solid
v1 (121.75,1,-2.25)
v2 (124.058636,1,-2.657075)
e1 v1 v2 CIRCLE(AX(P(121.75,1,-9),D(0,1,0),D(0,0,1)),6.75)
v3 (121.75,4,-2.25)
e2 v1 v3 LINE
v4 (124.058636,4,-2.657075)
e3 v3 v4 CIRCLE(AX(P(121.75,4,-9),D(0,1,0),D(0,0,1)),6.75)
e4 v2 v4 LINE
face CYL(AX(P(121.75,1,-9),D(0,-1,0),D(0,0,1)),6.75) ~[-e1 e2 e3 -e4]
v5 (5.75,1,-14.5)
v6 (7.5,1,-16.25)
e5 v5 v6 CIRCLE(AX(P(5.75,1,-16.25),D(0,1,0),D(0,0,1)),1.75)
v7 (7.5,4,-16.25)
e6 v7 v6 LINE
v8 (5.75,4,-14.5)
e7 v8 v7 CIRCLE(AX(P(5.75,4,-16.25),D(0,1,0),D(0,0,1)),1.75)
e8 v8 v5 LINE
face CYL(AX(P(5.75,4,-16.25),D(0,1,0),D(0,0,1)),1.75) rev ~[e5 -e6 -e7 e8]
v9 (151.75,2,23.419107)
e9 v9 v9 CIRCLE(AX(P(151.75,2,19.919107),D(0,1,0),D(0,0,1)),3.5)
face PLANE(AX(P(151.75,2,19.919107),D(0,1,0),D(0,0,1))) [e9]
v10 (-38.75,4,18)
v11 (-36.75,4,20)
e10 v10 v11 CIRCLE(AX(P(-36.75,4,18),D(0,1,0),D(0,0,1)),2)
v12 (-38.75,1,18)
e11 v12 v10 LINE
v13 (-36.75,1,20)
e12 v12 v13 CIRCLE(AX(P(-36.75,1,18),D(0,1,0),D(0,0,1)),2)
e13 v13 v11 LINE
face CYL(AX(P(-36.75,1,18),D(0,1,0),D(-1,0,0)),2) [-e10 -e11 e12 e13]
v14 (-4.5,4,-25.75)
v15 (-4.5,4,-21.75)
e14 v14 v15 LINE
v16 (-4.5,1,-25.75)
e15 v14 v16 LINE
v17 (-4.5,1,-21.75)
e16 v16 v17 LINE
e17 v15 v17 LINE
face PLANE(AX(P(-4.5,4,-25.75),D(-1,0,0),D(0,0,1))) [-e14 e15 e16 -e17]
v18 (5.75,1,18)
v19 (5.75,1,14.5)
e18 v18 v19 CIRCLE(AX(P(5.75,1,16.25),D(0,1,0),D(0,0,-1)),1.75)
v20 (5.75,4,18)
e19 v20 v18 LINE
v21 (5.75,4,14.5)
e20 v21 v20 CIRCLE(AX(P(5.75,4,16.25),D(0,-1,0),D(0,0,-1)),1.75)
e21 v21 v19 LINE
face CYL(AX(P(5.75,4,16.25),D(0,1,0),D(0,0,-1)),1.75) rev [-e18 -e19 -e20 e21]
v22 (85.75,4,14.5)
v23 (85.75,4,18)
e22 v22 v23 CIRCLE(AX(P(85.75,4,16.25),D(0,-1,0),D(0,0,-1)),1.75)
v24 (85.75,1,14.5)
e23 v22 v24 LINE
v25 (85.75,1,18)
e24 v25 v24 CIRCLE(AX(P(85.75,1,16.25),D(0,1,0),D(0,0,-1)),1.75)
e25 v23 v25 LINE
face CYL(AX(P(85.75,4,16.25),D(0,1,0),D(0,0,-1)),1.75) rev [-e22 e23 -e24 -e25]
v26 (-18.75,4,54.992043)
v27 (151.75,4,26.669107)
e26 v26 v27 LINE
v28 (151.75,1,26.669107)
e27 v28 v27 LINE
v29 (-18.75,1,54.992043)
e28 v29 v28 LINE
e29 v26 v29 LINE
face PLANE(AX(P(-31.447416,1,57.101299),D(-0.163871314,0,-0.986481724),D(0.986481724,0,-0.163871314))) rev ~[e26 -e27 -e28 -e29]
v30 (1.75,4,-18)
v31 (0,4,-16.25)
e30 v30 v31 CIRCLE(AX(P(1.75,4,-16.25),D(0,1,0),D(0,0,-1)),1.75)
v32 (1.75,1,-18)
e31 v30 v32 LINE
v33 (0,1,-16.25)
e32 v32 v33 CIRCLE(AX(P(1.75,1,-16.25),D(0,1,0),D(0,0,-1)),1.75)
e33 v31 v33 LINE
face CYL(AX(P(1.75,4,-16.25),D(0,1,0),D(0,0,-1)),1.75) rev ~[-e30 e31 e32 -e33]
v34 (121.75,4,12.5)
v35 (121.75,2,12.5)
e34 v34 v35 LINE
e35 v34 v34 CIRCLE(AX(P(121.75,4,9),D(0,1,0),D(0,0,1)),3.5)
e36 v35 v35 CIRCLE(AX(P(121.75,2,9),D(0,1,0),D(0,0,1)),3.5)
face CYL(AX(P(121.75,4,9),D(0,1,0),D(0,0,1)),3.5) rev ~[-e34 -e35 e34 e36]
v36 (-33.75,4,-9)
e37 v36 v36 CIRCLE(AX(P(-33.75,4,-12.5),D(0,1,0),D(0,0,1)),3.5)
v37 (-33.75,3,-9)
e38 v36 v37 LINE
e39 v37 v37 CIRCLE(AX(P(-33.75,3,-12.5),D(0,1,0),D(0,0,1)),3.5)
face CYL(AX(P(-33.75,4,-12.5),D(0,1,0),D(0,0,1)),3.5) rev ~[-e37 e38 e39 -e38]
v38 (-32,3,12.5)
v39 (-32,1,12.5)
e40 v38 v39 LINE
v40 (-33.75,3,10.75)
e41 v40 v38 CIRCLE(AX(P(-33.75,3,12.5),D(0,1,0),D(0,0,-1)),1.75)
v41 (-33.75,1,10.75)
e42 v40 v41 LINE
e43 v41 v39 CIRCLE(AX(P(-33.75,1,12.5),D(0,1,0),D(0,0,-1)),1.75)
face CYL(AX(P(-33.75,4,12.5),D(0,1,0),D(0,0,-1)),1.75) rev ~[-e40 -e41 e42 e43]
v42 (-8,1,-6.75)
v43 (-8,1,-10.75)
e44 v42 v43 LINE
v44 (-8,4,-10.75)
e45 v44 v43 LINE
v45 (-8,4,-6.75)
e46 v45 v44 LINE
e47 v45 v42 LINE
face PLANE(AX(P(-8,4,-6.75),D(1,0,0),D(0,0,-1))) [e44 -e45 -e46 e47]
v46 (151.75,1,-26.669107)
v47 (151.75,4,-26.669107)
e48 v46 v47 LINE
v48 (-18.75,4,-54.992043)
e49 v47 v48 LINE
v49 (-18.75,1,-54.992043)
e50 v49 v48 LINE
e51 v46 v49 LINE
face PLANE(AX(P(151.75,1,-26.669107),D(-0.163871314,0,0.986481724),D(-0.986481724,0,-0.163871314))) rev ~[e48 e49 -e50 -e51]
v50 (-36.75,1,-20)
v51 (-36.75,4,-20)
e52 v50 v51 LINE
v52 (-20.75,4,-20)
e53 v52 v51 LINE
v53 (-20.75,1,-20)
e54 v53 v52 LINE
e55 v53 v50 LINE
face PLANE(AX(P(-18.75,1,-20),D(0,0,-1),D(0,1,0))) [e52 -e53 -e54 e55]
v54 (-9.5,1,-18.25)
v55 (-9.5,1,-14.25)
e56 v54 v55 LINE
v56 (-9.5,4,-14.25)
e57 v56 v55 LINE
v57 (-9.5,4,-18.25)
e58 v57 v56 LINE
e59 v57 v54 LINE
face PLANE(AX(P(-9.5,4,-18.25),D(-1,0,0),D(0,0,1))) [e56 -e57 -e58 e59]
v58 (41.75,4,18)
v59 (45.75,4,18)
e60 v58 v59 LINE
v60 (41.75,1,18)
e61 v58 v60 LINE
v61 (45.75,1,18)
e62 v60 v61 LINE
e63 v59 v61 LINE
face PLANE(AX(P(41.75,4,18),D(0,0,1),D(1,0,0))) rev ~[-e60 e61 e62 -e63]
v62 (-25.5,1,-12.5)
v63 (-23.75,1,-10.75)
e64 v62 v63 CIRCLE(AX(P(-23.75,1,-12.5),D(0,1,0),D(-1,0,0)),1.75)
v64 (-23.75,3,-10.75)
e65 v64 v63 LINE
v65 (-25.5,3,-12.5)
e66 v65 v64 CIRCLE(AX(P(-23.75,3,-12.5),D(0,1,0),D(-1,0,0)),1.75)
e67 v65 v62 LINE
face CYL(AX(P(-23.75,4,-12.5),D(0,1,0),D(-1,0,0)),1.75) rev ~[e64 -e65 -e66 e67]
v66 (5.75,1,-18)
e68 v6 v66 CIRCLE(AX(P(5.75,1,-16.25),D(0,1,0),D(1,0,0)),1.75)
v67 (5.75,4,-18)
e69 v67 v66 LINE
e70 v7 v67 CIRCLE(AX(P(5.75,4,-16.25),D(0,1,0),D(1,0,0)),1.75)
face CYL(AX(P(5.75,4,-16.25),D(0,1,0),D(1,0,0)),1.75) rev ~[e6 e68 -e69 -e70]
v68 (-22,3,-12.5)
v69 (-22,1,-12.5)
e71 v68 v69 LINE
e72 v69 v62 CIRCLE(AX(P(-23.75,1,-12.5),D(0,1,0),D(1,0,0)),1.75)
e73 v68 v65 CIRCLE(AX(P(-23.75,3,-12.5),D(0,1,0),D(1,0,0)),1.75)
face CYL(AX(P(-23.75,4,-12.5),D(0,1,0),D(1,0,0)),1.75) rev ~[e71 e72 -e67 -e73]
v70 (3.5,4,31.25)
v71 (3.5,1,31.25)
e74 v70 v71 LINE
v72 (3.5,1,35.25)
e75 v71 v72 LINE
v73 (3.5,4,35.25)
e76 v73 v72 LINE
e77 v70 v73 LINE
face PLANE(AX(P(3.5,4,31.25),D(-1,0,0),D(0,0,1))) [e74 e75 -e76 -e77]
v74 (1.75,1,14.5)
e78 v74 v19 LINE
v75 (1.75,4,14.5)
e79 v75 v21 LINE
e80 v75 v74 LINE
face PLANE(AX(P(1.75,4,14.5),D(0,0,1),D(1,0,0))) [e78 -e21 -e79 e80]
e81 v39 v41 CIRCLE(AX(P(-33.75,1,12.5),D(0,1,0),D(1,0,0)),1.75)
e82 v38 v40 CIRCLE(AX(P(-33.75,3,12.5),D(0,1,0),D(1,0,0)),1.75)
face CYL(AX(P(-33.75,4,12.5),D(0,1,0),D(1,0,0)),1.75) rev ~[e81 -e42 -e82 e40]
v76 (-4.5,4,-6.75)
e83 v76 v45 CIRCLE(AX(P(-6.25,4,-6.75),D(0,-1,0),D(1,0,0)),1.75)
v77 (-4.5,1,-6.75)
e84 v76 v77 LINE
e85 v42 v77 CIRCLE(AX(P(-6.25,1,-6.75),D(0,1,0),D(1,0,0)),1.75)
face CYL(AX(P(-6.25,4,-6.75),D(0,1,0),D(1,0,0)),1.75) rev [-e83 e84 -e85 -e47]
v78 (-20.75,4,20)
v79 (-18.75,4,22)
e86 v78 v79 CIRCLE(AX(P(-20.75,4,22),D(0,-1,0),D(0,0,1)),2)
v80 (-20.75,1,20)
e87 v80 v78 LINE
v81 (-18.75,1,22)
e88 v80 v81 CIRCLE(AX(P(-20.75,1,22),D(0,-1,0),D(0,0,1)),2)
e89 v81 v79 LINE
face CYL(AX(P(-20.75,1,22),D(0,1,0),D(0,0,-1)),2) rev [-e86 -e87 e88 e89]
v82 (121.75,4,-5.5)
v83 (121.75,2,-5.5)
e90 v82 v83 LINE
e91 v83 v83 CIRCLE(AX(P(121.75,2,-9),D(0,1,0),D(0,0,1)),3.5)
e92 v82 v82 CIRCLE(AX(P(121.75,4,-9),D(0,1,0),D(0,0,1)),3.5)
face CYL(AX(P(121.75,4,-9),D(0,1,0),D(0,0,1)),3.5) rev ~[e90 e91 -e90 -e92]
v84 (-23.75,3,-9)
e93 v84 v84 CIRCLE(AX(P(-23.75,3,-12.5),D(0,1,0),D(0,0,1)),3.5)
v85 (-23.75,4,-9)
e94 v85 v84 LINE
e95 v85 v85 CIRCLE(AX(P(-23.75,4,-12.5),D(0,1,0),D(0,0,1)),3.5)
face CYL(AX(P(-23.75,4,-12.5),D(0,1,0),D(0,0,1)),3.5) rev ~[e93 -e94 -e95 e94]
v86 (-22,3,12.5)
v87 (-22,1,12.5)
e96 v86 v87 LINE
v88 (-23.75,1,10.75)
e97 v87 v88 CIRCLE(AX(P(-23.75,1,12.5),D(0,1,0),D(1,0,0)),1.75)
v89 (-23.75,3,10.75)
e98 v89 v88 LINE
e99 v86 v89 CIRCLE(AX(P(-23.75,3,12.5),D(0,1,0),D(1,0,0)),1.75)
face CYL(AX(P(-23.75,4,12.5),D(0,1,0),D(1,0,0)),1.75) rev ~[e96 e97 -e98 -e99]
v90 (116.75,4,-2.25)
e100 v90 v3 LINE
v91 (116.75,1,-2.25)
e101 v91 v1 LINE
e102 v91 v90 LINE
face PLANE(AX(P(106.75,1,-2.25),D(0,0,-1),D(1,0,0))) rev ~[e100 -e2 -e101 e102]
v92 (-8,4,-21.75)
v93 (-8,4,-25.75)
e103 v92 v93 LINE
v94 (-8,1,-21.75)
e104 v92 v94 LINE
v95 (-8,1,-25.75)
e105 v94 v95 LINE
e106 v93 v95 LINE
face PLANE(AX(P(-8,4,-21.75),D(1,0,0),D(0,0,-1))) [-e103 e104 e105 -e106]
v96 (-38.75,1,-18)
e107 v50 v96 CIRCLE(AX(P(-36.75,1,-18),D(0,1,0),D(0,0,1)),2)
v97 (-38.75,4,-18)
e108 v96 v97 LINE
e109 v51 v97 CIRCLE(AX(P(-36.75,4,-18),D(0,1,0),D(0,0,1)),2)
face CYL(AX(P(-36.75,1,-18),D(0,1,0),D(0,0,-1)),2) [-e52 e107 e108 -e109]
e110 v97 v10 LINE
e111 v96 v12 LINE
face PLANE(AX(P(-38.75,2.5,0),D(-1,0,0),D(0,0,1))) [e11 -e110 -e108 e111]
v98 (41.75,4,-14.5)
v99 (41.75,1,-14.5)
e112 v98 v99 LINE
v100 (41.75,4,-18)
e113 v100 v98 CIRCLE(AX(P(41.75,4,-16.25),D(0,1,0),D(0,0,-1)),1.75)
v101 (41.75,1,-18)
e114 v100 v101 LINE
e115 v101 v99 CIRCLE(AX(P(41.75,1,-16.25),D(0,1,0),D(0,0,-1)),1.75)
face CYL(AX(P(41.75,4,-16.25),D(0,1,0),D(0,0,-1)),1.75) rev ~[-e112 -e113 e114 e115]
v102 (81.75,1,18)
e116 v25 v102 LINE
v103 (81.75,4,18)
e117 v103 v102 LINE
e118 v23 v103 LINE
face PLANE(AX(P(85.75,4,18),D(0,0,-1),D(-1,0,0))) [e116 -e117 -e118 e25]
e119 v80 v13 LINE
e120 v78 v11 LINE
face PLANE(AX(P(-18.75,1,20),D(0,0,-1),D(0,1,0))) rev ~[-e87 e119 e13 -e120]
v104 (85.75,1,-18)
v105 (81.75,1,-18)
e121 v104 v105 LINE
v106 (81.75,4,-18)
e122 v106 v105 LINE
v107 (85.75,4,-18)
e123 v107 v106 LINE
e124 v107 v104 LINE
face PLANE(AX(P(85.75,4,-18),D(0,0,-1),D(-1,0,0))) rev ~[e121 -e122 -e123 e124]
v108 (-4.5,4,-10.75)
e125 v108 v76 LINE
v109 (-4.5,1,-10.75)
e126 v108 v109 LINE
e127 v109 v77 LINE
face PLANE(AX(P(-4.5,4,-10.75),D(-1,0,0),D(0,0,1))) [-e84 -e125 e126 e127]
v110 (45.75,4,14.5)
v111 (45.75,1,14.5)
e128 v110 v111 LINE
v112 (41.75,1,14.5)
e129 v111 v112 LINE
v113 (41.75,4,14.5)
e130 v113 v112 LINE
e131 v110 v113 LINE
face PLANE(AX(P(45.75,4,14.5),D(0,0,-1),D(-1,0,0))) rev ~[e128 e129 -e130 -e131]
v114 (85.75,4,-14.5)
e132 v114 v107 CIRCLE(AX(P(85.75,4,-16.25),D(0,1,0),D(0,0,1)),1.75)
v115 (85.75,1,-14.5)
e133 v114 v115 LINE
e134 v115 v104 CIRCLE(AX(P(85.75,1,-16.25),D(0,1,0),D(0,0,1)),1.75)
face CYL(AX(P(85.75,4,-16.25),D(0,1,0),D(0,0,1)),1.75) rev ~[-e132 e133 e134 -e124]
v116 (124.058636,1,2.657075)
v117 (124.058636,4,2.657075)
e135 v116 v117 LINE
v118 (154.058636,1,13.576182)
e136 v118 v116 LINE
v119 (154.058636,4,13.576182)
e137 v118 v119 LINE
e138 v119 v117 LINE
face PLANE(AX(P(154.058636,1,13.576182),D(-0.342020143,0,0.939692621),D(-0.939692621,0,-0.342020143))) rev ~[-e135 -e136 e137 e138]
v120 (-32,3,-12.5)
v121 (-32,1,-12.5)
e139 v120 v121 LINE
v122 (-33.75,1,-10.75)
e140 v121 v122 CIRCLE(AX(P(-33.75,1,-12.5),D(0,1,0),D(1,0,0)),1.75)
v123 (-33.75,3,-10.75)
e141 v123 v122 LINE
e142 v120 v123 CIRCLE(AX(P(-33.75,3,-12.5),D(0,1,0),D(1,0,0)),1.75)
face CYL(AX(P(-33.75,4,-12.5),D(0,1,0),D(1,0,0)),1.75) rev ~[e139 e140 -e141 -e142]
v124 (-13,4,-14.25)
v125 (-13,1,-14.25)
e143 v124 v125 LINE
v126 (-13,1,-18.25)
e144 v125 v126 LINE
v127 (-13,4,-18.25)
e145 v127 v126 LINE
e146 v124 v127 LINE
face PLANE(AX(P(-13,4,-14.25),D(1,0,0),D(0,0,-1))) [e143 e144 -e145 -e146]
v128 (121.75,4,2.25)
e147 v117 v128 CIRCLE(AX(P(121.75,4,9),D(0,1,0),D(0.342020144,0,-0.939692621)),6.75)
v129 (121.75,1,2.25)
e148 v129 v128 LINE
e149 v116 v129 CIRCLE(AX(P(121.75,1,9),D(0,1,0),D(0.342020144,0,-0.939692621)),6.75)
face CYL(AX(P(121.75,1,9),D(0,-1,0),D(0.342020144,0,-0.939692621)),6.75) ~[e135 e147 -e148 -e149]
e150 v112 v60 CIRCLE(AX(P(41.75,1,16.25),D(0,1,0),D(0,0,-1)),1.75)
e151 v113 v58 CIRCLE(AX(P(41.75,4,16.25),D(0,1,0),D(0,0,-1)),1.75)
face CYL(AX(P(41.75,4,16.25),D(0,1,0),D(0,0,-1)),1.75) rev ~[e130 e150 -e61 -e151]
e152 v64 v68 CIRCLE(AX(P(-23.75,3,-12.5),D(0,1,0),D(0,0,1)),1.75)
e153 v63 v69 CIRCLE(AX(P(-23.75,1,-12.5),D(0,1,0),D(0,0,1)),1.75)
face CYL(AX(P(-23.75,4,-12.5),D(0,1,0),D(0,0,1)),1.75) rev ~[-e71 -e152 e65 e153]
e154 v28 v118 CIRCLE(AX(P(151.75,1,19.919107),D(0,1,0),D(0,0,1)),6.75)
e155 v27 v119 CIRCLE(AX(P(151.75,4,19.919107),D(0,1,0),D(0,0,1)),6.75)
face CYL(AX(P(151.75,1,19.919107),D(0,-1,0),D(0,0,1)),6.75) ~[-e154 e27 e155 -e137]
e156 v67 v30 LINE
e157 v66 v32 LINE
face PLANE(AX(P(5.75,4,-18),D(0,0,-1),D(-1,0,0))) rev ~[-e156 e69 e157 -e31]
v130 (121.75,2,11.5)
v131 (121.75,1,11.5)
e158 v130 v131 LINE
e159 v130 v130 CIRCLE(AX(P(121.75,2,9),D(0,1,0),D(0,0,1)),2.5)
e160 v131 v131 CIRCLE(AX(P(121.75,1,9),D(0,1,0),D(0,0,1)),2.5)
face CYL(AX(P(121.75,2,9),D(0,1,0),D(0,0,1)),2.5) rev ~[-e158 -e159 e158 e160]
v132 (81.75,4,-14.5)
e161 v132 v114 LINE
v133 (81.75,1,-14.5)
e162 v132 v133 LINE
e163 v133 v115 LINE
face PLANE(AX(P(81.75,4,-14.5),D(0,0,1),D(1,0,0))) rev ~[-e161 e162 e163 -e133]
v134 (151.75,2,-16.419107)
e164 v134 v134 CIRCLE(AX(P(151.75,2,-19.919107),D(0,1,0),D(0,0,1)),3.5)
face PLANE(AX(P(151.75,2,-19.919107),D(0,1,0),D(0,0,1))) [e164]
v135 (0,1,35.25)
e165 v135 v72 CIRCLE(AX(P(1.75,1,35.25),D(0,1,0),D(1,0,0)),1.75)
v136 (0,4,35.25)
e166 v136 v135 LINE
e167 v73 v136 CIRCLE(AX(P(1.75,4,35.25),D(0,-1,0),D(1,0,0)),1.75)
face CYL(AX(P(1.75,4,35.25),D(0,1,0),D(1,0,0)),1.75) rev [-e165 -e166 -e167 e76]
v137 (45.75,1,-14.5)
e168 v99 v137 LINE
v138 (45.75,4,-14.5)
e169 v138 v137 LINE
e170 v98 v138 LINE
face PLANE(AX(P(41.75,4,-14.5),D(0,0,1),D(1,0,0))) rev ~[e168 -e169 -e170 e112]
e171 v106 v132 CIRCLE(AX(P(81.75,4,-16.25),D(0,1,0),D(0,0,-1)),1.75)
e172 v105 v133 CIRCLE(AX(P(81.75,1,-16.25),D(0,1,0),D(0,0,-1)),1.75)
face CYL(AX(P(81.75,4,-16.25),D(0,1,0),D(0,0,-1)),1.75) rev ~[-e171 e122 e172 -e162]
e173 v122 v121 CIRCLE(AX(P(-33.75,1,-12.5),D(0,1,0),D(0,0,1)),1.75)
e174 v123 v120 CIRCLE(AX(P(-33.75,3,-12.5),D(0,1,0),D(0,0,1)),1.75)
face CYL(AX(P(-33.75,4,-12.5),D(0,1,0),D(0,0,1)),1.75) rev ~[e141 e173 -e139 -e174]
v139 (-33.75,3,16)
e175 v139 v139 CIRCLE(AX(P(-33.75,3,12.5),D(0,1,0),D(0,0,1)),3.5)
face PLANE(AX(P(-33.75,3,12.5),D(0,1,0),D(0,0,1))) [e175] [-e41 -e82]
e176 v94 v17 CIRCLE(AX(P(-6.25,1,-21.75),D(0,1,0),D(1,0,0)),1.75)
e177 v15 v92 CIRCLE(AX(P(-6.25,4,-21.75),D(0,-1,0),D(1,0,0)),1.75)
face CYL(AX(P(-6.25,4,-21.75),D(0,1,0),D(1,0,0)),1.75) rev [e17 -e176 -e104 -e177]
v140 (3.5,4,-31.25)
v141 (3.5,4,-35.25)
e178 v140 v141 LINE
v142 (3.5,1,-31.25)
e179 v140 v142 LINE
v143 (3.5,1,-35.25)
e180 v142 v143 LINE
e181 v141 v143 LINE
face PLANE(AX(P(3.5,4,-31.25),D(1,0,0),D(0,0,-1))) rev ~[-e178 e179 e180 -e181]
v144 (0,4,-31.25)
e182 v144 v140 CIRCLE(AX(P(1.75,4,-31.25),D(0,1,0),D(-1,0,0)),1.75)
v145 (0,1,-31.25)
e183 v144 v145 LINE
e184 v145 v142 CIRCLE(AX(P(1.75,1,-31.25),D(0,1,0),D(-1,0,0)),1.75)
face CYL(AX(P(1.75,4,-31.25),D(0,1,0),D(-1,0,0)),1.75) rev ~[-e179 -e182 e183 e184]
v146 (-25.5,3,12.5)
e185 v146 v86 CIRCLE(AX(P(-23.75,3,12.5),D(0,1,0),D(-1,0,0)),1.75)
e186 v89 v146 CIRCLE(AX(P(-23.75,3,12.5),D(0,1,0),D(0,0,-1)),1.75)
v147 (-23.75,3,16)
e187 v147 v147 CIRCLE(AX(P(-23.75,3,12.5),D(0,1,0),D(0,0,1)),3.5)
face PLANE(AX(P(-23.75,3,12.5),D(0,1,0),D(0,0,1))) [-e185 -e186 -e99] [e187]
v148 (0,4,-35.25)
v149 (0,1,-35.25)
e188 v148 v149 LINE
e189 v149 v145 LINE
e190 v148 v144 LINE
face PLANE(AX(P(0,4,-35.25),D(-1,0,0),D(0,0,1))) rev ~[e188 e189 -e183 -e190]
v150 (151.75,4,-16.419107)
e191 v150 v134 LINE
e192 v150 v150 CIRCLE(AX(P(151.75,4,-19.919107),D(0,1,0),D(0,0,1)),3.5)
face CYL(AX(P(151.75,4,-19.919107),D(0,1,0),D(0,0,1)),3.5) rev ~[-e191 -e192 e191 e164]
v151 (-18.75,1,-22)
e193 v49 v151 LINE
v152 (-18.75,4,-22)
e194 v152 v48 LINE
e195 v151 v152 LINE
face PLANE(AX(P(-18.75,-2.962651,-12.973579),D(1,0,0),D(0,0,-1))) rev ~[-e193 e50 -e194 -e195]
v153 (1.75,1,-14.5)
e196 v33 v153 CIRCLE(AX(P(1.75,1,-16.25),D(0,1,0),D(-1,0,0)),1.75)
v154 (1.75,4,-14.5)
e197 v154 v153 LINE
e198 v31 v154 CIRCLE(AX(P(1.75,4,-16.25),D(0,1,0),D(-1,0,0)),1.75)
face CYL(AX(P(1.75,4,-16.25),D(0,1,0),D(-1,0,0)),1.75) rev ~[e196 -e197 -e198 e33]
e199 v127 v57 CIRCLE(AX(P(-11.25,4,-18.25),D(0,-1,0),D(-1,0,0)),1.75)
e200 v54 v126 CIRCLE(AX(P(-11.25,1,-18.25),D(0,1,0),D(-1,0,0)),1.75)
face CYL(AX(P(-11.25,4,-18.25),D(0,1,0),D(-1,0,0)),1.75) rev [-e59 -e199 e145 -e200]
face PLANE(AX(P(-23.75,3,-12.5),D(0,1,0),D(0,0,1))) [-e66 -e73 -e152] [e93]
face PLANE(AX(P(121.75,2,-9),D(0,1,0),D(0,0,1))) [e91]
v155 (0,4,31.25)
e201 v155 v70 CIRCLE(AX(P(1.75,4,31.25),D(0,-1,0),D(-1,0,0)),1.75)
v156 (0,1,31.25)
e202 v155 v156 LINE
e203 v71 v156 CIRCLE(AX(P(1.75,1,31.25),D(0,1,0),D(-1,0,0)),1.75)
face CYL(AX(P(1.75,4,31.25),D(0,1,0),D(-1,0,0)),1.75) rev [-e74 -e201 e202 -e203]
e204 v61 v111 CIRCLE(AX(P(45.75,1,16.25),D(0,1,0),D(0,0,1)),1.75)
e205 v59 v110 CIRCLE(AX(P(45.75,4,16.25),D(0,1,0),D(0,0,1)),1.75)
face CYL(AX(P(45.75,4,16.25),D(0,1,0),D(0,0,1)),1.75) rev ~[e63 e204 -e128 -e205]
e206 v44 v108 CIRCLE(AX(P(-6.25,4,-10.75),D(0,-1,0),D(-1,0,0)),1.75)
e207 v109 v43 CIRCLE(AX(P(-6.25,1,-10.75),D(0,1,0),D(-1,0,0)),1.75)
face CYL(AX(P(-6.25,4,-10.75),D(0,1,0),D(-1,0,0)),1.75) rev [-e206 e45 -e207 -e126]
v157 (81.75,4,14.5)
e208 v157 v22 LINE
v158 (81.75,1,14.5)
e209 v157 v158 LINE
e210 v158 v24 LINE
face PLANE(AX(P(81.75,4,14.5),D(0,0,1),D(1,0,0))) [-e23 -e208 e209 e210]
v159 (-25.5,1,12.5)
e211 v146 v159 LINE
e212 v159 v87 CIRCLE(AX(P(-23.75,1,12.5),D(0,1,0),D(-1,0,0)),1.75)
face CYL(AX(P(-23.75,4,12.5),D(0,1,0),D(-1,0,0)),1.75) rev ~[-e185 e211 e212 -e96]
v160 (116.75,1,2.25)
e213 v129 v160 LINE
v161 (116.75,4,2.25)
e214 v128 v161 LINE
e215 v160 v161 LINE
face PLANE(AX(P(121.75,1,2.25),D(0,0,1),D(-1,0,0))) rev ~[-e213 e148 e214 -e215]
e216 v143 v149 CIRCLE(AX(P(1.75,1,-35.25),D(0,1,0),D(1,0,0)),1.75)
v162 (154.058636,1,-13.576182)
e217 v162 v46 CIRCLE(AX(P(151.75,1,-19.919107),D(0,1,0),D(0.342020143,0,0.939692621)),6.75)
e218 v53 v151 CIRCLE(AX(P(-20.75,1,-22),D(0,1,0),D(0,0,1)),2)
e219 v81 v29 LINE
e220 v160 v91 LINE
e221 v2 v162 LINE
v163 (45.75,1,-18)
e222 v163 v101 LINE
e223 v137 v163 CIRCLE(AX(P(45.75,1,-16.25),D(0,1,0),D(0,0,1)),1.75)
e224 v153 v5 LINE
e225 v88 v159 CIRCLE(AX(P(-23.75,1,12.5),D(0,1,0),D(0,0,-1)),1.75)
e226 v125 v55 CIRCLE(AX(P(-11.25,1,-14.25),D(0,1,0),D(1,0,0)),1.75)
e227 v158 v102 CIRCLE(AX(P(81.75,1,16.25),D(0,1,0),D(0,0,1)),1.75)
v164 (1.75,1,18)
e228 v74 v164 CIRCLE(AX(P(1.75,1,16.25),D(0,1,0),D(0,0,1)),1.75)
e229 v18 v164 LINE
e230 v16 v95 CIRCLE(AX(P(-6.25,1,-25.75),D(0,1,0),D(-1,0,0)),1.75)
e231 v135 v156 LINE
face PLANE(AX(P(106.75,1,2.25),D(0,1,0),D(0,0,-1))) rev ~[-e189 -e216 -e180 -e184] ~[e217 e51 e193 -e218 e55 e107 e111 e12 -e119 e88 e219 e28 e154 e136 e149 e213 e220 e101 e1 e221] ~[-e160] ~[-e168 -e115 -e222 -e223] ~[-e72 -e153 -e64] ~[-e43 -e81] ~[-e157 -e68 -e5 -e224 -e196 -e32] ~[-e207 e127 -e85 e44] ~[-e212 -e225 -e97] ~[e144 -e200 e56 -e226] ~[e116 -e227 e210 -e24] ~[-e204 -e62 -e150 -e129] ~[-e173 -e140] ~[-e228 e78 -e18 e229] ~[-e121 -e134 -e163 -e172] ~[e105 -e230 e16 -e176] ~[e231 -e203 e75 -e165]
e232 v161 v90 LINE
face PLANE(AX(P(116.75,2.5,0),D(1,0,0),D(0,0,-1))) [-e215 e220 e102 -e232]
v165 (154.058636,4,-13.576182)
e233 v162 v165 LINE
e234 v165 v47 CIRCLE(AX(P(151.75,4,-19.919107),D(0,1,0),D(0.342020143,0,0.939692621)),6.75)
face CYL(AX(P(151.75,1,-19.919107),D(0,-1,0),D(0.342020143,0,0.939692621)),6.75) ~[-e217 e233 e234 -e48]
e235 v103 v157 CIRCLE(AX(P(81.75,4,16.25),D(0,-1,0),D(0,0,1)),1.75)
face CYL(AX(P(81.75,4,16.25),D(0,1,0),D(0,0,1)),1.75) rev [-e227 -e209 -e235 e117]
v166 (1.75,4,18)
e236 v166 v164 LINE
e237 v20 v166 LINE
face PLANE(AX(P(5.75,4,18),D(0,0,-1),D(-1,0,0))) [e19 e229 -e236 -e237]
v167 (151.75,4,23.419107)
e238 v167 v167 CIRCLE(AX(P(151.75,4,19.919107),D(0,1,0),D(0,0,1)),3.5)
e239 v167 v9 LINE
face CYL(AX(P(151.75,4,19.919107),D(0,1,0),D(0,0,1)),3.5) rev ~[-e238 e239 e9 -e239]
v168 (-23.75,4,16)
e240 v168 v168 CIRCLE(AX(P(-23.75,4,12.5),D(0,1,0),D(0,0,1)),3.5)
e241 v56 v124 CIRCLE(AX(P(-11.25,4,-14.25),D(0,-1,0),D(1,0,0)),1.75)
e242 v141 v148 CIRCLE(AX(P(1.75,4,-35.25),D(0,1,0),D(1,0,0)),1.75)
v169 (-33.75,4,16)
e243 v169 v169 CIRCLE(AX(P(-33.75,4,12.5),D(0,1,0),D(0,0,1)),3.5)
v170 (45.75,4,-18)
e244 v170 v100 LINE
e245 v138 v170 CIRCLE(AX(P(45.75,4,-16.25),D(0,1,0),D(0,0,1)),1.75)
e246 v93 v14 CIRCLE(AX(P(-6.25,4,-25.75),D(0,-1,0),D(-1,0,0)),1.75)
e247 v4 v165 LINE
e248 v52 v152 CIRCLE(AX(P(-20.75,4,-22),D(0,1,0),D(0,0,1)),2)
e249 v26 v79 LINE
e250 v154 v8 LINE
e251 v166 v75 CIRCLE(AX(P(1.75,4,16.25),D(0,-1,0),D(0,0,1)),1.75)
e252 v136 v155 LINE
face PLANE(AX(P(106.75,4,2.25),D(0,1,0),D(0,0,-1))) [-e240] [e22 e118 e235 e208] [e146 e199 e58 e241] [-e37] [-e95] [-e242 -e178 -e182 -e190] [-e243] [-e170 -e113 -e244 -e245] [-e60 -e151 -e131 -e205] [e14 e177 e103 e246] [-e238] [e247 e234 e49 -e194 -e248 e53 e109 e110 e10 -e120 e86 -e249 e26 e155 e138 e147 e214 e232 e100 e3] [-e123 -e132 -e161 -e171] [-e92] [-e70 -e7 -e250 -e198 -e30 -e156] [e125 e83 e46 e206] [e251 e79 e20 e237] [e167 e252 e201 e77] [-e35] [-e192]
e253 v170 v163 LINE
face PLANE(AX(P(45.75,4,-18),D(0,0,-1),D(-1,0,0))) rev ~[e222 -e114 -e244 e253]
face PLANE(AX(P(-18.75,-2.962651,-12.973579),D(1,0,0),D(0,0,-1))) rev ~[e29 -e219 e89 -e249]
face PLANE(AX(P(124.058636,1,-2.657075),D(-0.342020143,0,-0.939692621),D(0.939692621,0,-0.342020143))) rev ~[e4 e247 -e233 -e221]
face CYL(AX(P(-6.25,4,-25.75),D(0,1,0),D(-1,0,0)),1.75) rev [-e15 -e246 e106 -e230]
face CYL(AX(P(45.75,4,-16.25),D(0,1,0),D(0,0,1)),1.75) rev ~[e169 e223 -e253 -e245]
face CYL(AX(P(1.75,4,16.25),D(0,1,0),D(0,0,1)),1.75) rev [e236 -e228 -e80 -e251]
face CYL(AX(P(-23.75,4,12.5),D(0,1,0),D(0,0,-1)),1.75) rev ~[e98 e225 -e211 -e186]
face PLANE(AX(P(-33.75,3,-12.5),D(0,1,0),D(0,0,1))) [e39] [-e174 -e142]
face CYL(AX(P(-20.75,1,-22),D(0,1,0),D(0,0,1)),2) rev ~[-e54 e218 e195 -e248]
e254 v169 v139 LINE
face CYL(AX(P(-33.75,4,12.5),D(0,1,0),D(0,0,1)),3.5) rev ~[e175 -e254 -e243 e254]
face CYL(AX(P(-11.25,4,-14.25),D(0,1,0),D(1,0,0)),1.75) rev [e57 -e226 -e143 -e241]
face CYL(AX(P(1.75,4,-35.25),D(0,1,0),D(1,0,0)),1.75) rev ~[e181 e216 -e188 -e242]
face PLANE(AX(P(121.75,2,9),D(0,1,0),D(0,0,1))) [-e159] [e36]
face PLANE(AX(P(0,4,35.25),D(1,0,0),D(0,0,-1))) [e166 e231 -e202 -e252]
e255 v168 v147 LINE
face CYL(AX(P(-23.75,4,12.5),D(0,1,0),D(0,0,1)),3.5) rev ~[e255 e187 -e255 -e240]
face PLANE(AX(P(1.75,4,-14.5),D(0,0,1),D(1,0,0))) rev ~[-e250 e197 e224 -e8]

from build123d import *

# Parameters (mm, degrees)
SKETCH_1_W           = 35
SKETCH_1_H           = 55
EXTRUDE_1_DEPTH      = 1
EXTRUDE_2_DEPTH      = 3
SKETCH_3_R           = 5
CUT_EXTRUDE_1_DEPTH  = 169.569903897
SKETCH_4_R           = 4
CUT_EXTRUDE_2_DEPTH  = 2
SKETCH_5_R           = 2
CUT_EXTRUDE_3_DEPTH  = 2
EXTRUDE_START        = 7
EXTRUDE_3_DEPTH      = 7
CUT_EXTRUDE_START    = -1.5
SKETCH_9_W           = 10
SKETCH_9_H           = 26
CUT_EXTRUDE_4_DEPTH  = 168.318874833
SKETCH_10_R          = 1.5
CUT_EXTRUDE_5_DEPTH  = 194.595583627
EXTRUDE_START_2      = -3
EXTRUDE_4_DEPTH      = 3
SKETCH_12_R          = 9
SKETCH_12_R_2        = 5
EXTRUDE_5_DEPTH      = 2.5
SKETCH_13_R          = 7.5
CUT_EXTRUDE_6_DEPTH  = 4
SKETCH_14_W          = 10
SKETCH_14_H          = 26
CUT_EXTRUDE_7_DEPTH  = 2
EXTRUDE_START_3      = -1
EXTRUDE_6_DEPTH      = 2
CUT_EXTRUDE_8_DEPTH  = 170.92003224
SKETCH_17_W          = 35
SKETCH_17_H          = 55
CUT_EXTRUDE_9_DEPTH  = 1
SKETCH_19_R          = 9
EXTRUDE_8_DEPTH      = 2.5
SKETCH_20_W          = 13
SKETCH_20_H          = 1.5
EXTRUDE_9_DEPTH      = 5.5
SKETCH_21_R          = 3.5
CUT_EXTRUDE_10_DEPTH = 2
CUT_EXTRUDE_11_DEPTH = 10
SKETCH_23_R          = 1.75
CUT_EXTRUDE_12_DEPTH = 10
SKETCH_25_R          = 1.75
CUT_EXTRUDE_14_DEPTH = 170.71466453
SKETCH_29_W          = 168.729827701
SKETCH_29_H          = 37.82128197
CUT_EXTRUDE_16_DEPTH = 188.307580884
SKETCH_30_W          = 40
SKETCH_30_H          = 3
EXTRUDE_10_DEPTH     = 20
CUT_EXTRUDE_17_DEPTH = 10
SKETCH_32_R          = 3.5
CUT_EXTRUDE_18_DEPTH = 1
SKETCH_33_R          = 2.5
CUT_EXTRUDE_19_DEPTH = 1
CUT_EXTRUDE_21_DEPTH = 168.79563411
SKETCH_35_W          = 4.5
SKETCH_35_H          = 3
EXTRUDE_11_DEPTH     = 10
FILLET_1_R           = 2
FILLET_2_R           = 2


with BuildPart() as part:
    # 草图1 → 凸台-拉伸1 (new body)
    with BuildSketch(Plane(origin=(0, 0, 0), x_dir=(1, 0, 0), z_dir=(0, 1, 0))):
        Rectangle(SKETCH_1_W, SKETCH_1_H)
    extrude(amount=EXTRUDE_1_DEPTH)

    # 草图2 → 凸台-拉伸2 (add)
    with BuildSketch(Plane(origin=(0, 1, 0), x_dir=(1, 0, 0), z_dir=(0, 1, 0))):
        with BuildLine():
            Line((106.75, -2.25), (106.75, 2.25))
            Line((106.75, 2.25), (121.75, 2.25))
            ThreePointArc((121.75, 2.25), (122.922125199, 2.352547667), (124.058635967, 2.65707481))
            Line((124.058635967, 2.65707481), (154.058635967, 13.576181838))
            ThreePointArc((154.058635967, 13.576181838), (158.397452333, 21.091232227), (151.75, 26.669107028))
            Line((151.75, 26.669107028), (-31.447415548, 57.101298968))
            ThreePointArc((-31.447415548, 57.101298968), (-37.800418235, 56.264673928), (-42.609265279, 52.029632639))
            Line((-42.609265279, 52.029632639), (-60.161792173, 23.605896086))
            ThreePointArc((-60.161792173, 23.605896086), (-61.717833724, 20.073278016), (-62.25, 16.25))
            Line((-62.25, 16.25), (-62.25, -16.25))
            ThreePointArc((-62.25, -16.25), (-61.717833724, -20.073278016), (-60.161792173, -23.605896086))
            Line((-60.161792173, -23.605896086), (-42.609265279, -52.029632639))
            ThreePointArc((-42.609265279, -52.029632639), (-37.800418235, -56.264673928), (-31.447415548, -57.101298968))
            Line((-31.447415548, -57.101298968), (151.75, -26.669107028))
            ThreePointArc((151.75, -26.669107028), (158.397452333, -21.091232227), (154.058635967, -13.576181838))
            Line((154.058635967, -13.576181838), (124.058635967, -2.65707481))
            ThreePointArc((124.058635967, -2.65707481), (122.922125199, -2.352547667), (121.75, -2.25))
            Line((121.75, -2.25), (106.75, -2.25))
        make_face()
    extrude(amount=EXTRUDE_2_DEPTH)

    # 草图3 → 切除-拉伸1 (cut, through all)
    with BuildSketch(Plane(origin=(0, 4, 0), x_dir=(1, 0, 0), z_dir=(0, 1, 0))):
        with Locations(Location((-48.25, 16.25, 0), (0, 0, 270))):
            Circle(SKETCH_3_R)
        with Locations(Location((-48.25, -16.25, 0), (0, 0, 270))):
            Circle(SKETCH_3_R)
    extrude(amount=-CUT_EXTRUDE_1_DEPTH, mode=Mode.SUBTRACT)

    # 草图4 → 切除-拉伸2 (cut)
    with BuildSketch(Plane(origin=(0, 4, 0), x_dir=(1, 0, 0), z_dir=(0, 1, 0))):
        with Locations(Location((-33.25, 46.25, 0), (0, 0, 270))):
            Circle(SKETCH_4_R)
        with Locations(Location((-33.25, -46.25, 0), (0, 0, 270))):
            Circle(SKETCH_4_R)
    extrude(amount=-CUT_EXTRUDE_2_DEPTH, mode=Mode.SUBTRACT)

    # 草图5 → 切除-拉伸3 (cut)
    with BuildSketch(Plane(origin=(0, 4, 0), x_dir=(1, 0, 0), z_dir=(0, 1, 0))):
        with Locations(Location((121.75, 9, 0), (0, 0, 270))):
            Circle(SKETCH_5_R)
        with Locations(Location((121.75, -9, 0), (0, 0, 270))):
            Circle(SKETCH_5_R)
        with Locations(Location((151.75, 19.919107028, 0), (0, 0, 270))):
            Circle(SKETCH_5_R)
        with Locations(Location((151.75, -19.919107028, 0), (0, 0, 270))):
            Circle(SKETCH_5_R)
    extrude(amount=-CUT_EXTRUDE_3_DEPTH, mode=Mode.SUBTRACT)

    # 草图8 → 凸台-拉伸3 (add)
    with BuildSketch(Plane.XZ.offset(-1).offset(EXTRUDE_START)):
        with BuildLine():
            Line((-26.75, -26.25), (-39.75, -26.25))
            Line((-39.75, -26.25), (-39.75, -55.124119675))
            ThreePointArc((-39.75, -55.124119675), (-35.798281322, -56.950759894), (-31.447415548, -57.101298968))
            Line((-31.447415548, -57.101298968), (-26.75, -56.320978726))
            Line((-26.75, -56.320978726), (-26.75, -26.25))
        make_face()
    extrude_3 = extrude(amount=-EXTRUDE_3_DEPTH)

    # 镜向1: 凸台-拉伸3 across plane
    add(extrude_3.mirror(Plane.XY))

    # 草图9 → 切除-拉伸4 (cut, through all)
    with BuildSketch(Plane.XZ.offset(6).offset(CUT_EXTRUDE_START)):
        with Locations((-33.25, -40.75)):
            Rectangle(SKETCH_9_W, SKETCH_9_H)
    cut_extrude_4 = extrude(amount=-CUT_EXTRUDE_4_DEPTH, mode=Mode.SUBTRACT)

    # 镜向2: 切除-拉伸4 across plane
    add(cut_extrude_4.mirror(Plane.XY), mode=Mode.SUBTRACT)

    # 草图10 → 切除-拉伸5 (cut, through all)
    with BuildSketch(Plane.XY.offset(-53.75)):
        with Locations((-33.25, -1.5)):
            Circle(SKETCH_10_R)
    cut_extrude_5 = extrude(amount=-CUT_EXTRUDE_5_DEPTH, mode=Mode.SUBTRACT)

    # 镜向3: 切除-拉伸5 across plane
    add(cut_extrude_5.mirror(Plane.XY), mode=Mode.SUBTRACT)

    # 草图11 → 凸台-拉伸4 (add)
    with BuildSketch(Plane(origin=(0, 4, 0), x_dir=(1, 0, 0), z_dir=(0, 1, 0)).offset(EXTRUDE_START_2)):
        with BuildLine():
            Line((-62.25, 50.419925161), (-62.25, 16.25))
            ThreePointArc((-62.25, 16.25), (-61.717833724, 20.073278016), (-60.161792173, 23.605896086))
            Line((-60.161792173, 23.605896086), (-42.609265279, 52.029632639))
            ThreePointArc((-42.609265279, 52.029632639), (-37.800418235, 56.264673928), (-31.447415548, 57.101298968))
            Line((-31.447415548, 57.101298968), (-50.611286861, 60.284742405))
            ThreePointArc((-50.611286861, 60.284742405), (-58.715789535, 58.048395892), (-62.25, 50.419925161))
        make_face()
        with BuildLine():
            ThreePointArc((-60.161792173, -23.605896086), (-61.717833724, -20.073278016), (-62.25, -16.25))
            Line((-62.25, -16.25), (-62.25, -50.419925161))
            ThreePointArc((-62.25, -50.419925161), (-58.715789535, -58.048395892), (-50.611286861, -60.284742405))
            Line((-50.611286861, -60.284742405), (-31.447415548, -57.101298968))
            ThreePointArc((-31.447415548, -57.101298968), (-37.800418235, -56.264673928), (-42.609265279, -52.029632639))
            Line((-42.609265279, -52.029632639), (-60.161792173, -23.605896086))
        make_face()
    extrude(amount=EXTRUDE_4_DEPTH)

    # 草图12 → 凸台-拉伸5 (add)
    # profile 1 of 2: a face of its own
    with BuildSketch(Plane.XZ.offset(-1)):
        with Locations(Location((-48.25, 16.25, 0), (0, 0, 90))):
            Circle(SKETCH_12_R)
        with Locations(Location((-48.25, 16.25, 0), (0, 0, 90))):
            Circle(SKETCH_12_R_2, mode=Mode.SUBTRACT)
    # profile 2 of 2: a face of its own
    with BuildSketch(Plane.XZ.offset(-1)):
        with Locations(Location((-48.25, -16.25, 0), (0, 0, 90))):
            Circle(SKETCH_12_R)
        with Locations(Location((-48.25, -16.25, 0), (0, 0, 90))):
            Circle(SKETCH_12_R_2, mode=Mode.SUBTRACT)
    extrude(amount=EXTRUDE_5_DEPTH)

    # 草图13 → 切除-拉伸6 (cut)
    with BuildSketch(Plane(origin=(0, 4, 0), x_dir=(1, 0, 0), z_dir=(0, 1, 0))):
        with Locations(Location((-48.25, 16.25, 0), (0, 0, 270))):
            Circle(SKETCH_13_R)
        with Locations(Location((-48.25, -16.25, 0), (0, 0, 270))):
            Circle(SKETCH_13_R)
    extrude(amount=-CUT_EXTRUDE_6_DEPTH, mode=Mode.SUBTRACT)

    # 草图14 → 切除-拉伸7 (cut)
    with BuildSketch(Plane(origin=(0, 4, 0), x_dir=(1, 0, 0), z_dir=(0, 1, 0))):
        with Locations((-33.25, 40.75)):
            Rectangle(SKETCH_14_W, SKETCH_14_H)
        Polygon((-20.75, 55.324277157), (-45.75, 59.477200364), (-45.75, 27.75), (-38.25, 27.75), (-38.25, 53.75), (-28.25, 53.75), (-28.25, 27.75), (-20.75, 27.75), align=None)
    cut_extrude_7 = extrude(amount=-CUT_EXTRUDE_7_DEPTH, mode=Mode.SUBTRACT)

    # 草图15 → 凸台-拉伸6 (add)
    with BuildSketch(Plane(origin=(0, 2, 0), x_dir=(1, 0, 0), z_dir=(0, 1, 0)).offset(EXTRUDE_START_3)):
        Polygon((-18.75, 54.9920433), (-47.75, 59.80943422), (-47.75, 25.75), (-30.25, 25.75), (-18.75, 25.75), align=None)
    extrude_6 = extrude(amount=-EXTRUDE_6_DEPTH)

    # 草图16 → 切除-拉伸8 (cut, through all)
    with BuildSketch(Plane.XZ.offset(6)):
        with BuildLine():
            Line((-31.447415548, -57.101298968), (-26.75, -56.320978726))
            Line((-26.75, -56.320978726), (-26.75, -26.25))
            Line((-26.75, -26.25), (-39.75, -26.25))
            Line((-39.75, -26.25), (-39.75, -55.124119675))
            ThreePointArc((-39.75, -55.124119675), (-35.798281322, -56.950759894), (-31.447415548, -57.101298968))
        make_face()
        with BuildLine():
            Line((-39.75, -65.953183835), (-26.75, -64.748478677))
            Line((-26.75, -64.748478677), (-26.75, -56.320978726))
            Line((-26.75, -56.320978726), (-31.447415548, -57.101298968))
            ThreePointArc((-31.447415548, -57.101298968), (-35.798281322, -56.950759894), (-39.75, -55.124119675))
            Line((-39.75, -55.124119675), (-39.75, -65.953183835))
        make_face()
    cut_extrude_8 = extrude(amount=-CUT_EXTRUDE_8_DEPTH, mode=Mode.SUBTRACT)

    # 镜向4: 切除-拉伸4, 切除-拉伸7, 凸台-拉伸6, 切除-拉伸8 across plane
    add(cut_extrude_4.mirror(Plane.XY), mode=Mode.SUBTRACT)
    add(cut_extrude_7.mirror(Plane.XY), mode=Mode.SUBTRACT)
    add(extrude_6.mirror(Plane.XY))
    add(cut_extrude_8.mirror(Plane.XY), mode=Mode.SUBTRACT)

    # 草图17 → 切除-拉伸9 (cut)
    with BuildSketch(Plane.XZ):
        Rectangle(SKETCH_17_W, SKETCH_17_H)
    extrude(amount=-CUT_EXTRUDE_9_DEPTH, mode=Mode.SUBTRACT)

    # 草图19 → 凸台-拉伸8 (add)
    # profile 1 of 3: a face of its own
    with BuildSketch(Plane.XZ.offset(-1)):
        with BuildLine():
            Line((-50.611286861, -60.284742405), (-47.75, -59.80943422))
            Line((-47.75, -59.80943422), (-47.75, -25.75))
            Line((-47.75, -25.75), (-18.75, -25.75))
            Line((-18.75, -25.75), (-18.75, 25.75))
            Line((-18.75, 25.75), (-47.75, 25.75))
            Line((-47.75, 25.75), (-47.75, 59.80943422))
            Line((-47.75, 59.80943422), (-50.611286861, 60.284742405))
            ThreePointArc((-50.611286861, 60.284742405), (-58.715789535, 58.048395892), (-62.25, 50.419925161))
            Line((-62.25, 50.419925161), (-62.25, -50.419925161))
            ThreePointArc((-62.25, -50.419925161), (-58.715789535, -58.048395892), (-50.611286861, -60.284742405))
        make_face()
        with Locations((-48.25, -16.25)):
            Circle(SKETCH_19_R, mode=Mode.SUBTRACT)
        with Locations((-48.25, 16.25)):
            Circle(SKETCH_19_R, mode=Mode.SUBTRACT)
    # profile 2 of 3: a face of its own
    with BuildSketch(Plane.XZ.offset(-1)):
        Polygon((-26.75, 56.320978726), (-26.75, 26.25), (-39.75, 26.25), (-39.75, 58.480498794), (-47.75, 59.80943422), (-47.75, 25.75), (-18.75, 25.75), (-18.75, 54.9920433), align=None)
    # profile 3 of 3: a face of its own
    with BuildSketch(Plane.XZ.offset(-1)):
        Polygon((-26.75, -26.25), (-26.75, -56.320978726), (-18.75, -54.9920433), (-18.75, -25.75), (-47.75, -25.75), (-47.75, -59.80943422), (-39.75, -58.480498794), (-39.75, -26.25), align=None)
    extrude(amount=EXTRUDE_8_DEPTH)

    # 草图20 → 凸台-拉伸9 (add)
    with BuildSketch(Plane(origin=(0, 4, 0), x_dir=(1, 0, 0), z_dir=(0, 1, 0))):
        with Locations((-33.25, 27)):
            Rectangle(SKETCH_20_W, SKETCH_20_H)
        with Locations((-33.25, -27)):
            Rectangle(SKETCH_20_W, SKETCH_20_H)
    extrude(amount=-EXTRUDE_9_DEPTH)

    # 草图21 → 切除-拉伸10 (cut)
    with BuildSketch(Plane(origin=(0, 4, 0), x_dir=(1, 0, 0), z_dir=(0, 1, 0))):
        with Locations(Location((121.75, 9, 0), (0, 0, 270))):
            Circle(SKETCH_21_R)
        with Locations(Location((121.75, -9, 0), (0, 0, 270))):
            Circle(SKETCH_21_R)
        with Locations(Location((151.75, -19.919107028, 0), (0, 0, 270))):
            Circle(SKETCH_21_R)
        with Locations(Location((151.75, 19.919107028, 0), (0, 0, 270))):
            Circle(SKETCH_21_R)
    extrude(amount=-CUT_EXTRUDE_10_DEPTH, mode=Mode.SUBTRACT)

    # 草图22 → 切除-拉伸11 (cut)
    with BuildSketch(Plane(origin=(0, 4, 0), x_dir=(1, 0, 0), z_dir=(0, 1, 0))):
        with BuildLine():
            ThreePointArc((5.75, -14.5), (7.5, -16.25), (5.75, -18))
            Line((5.75, -18), (1.75, -18))
            ThreePointArc((1.75, -18), (0, -16.25), (1.75, -14.5))
            Line((1.75, -14.5), (5.75, -14.5))
        make_face()
        with BuildLine():
            ThreePointArc((85.75, -14.5), (87.5, -16.25), (85.75, -18))
            Line((85.75, -18), (81.75, -18))
            ThreePointArc((81.75, -18), (80, -16.25), (81.75, -14.5))
            Line((81.75, -14.5), (85.75, -14.5))
        make_face()
        with BuildLine():
            Line((3.5, 31.25), (3.5, 35.25))
            ThreePointArc((3.5, 35.25), (1.75, 37), (0, 35.25))
            Line((0, 35.25), (0, 31.25))
            ThreePointArc((0, 31.25), (1.75, 29.5), (3.5, 31.25))
        make_face()
        with BuildLine():
            Line((7.5, 16.25), (0, 16.25))
            ThreePointArc((0, 16.25), (0.512563133, 15.012563133), (1.75, 14.5))
            Line((1.75, 14.5), (5.75, 14.5))
            ThreePointArc((5.75, 14.5), (6.987436867, 15.012563133), (7.5, 16.25))
        make_face()
        with BuildLine():
            Line((81.75, 14.5), (85.75, 14.5))
            ThreePointArc((85.75, 14.5), (87.5, 16.25), (85.75, 18))
            Line((85.75, 18), (81.75, 18))
            ThreePointArc((81.75, 18), (80, 16.25), (81.75, 14.5))
        make_face()
        with BuildLine():
            ThreePointArc((1.75, 18), (0.512563133, 17.487436867), (0, 16.25))
            Line((0, 16.25), (7.5, 16.25))
            ThreePointArc((7.5, 16.25), (6.987436867, 17.487436867), (5.75, 18))
            Line((5.75, 18), (1.75, 18))
        make_face()
        with BuildLine():
            Line((3.5, -31.25), (3.5, -35.25))
            ThreePointArc((3.5, -35.25), (1.75, -37), (0, -35.25))
            Line((0, -35.25), (0, -31.25))
            ThreePointArc((0, -31.25), (1.75, -29.5), (3.5, -31.25))
        make_face()
        with BuildLine():
            Line((41.75, -18), (45.75, -18))
            ThreePointArc((45.75, -18), (47.5, -16.25), (45.75, -14.5))
            Line((45.75, -14.5), (41.75, -14.5))
            ThreePointArc((41.75, -14.5), (40, -16.25), (41.75, -18))
        make_face()
        with BuildLine():
            Line((41.75, 14.5), (45.75, 14.5))
            ThreePointArc((45.75, 14.5), (47.5, 16.25), (45.75, 18))
            Line((45.75, 18), (41.75, 18))
            ThreePointArc((41.75, 18), (40, 16.25), (41.75, 14.5))
        make_face()
    extrude(amount=-CUT_EXTRUDE_11_DEPTH, mode=Mode.SUBTRACT)

    # 草图23 → 切除-拉伸12 (cut)
    with BuildSketch(Plane(origin=(0, 4, 0), x_dir=(1, 0, 0), z_dir=(0, 1, 0))):
        with Locations(Location((-42.75, 42.75, 0), (0, 0, 270))):
            Circle(SKETCH_23_R)
        with Locations(Location((-42.75, 32.75, 0), (0, 0, 270))):
            Circle(SKETCH_23_R)
        with Locations(Location((-23.75, 32.75, 0), (0, 0, 270))):
            Circle(SKETCH_23_R)
        with Locations(Location((-23.75, 42.75, 0), (0, 0, 270))):
            Circle(SKETCH_23_R)
    cut_extrude_12 = extrude(amount=-CUT_EXTRUDE_12_DEPTH, mode=Mode.SUBTRACT)

    # 镜向5: 切除-拉伸12 across plane
    add(cut_extrude_12.mirror(Plane.XY), mode=Mode.SUBTRACT)

    # 草图25 → 切除-拉伸14 (cut, through all)
    with BuildSketch(Plane(origin=(0, 4, 0), x_dir=(1, 0, 0), z_dir=(0, 1, 0))):
        with Locations(Location((-52.25, -50.419925161, 0), (0, 0, 270))):
            Circle(SKETCH_25_R)
        with Locations(Location((-52.25, 50.419925161, 0), (0, 0, 270))):
            Circle(SKETCH_25_R)
    extrude(amount=-CUT_EXTRUDE_14_DEPTH, mode=Mode.SUBTRACT)

    # 草图29 → 切除-拉伸16 (cut, through all)
    with BuildSketch(Plane(origin=(-18.75, 0, 0), x_dir=(0, 0, -1), z_dir=(1, 0, 0))):
        with Locations((12.973579281, -2.962650989)):
            Rectangle(SKETCH_29_W, SKETCH_29_H)
    extrude(amount=-CUT_EXTRUDE_16_DEPTH, mode=Mode.SUBTRACT)

    # 草图30 → 凸台-拉伸10 (add)
    with BuildSketch(Plane.ZY.offset(18.75)):
        with Locations((0, 2.5)):
            Rectangle(SKETCH_30_W, SKETCH_30_H)
    extrude(amount=EXTRUDE_10_DEPTH)

    # 草图31 → 切除-拉伸17 (cut)
    with BuildSketch(Plane(origin=(0, 4, 0), x_dir=(1, 0, 0), z_dir=(0, 1, 0))):
        with BuildLine():
            ThreePointArc((-25.5, 12.5), (-24.987436867, 11.262563133), (-23.75, 10.75))
            Line((-23.75, 10.75), (-23.75, 12.5))
            Line((-23.75, 12.5), (-25.5, 12.5))
        make_face()
        with BuildLine():
            Line((-23.75, 12.5), (-23.75, 10.75))
            ThreePointArc((-23.75, 10.75), (-22.512563133, 11.262563133), (-22, 12.5))
            ThreePointArc((-22, 12.5), (-23.75, 14.25), (-25.5, 12.5))
            Line((-25.5, 12.5), (-23.75, 12.5))
        make_face()
        with BuildLine():
            ThreePointArc((-32, 12.5), (-34.987436867, 13.737436867), (-33.75, 10.75))
            Line((-33.75, 10.75), (-33.75, 12.5))
            Line((-33.75, 12.5), (-32, 12.5))
        make_face()
        with BuildLine():
            Line((-33.75, 12.5), (-33.75, 10.75))
            ThreePointArc((-33.75, 10.75), (-32.512563133, 11.262563133), (-32, 12.5))
            Line((-32, 12.5), (-33.75, 12.5))
        make_face()
        with BuildLine():
            ThreePointArc((-22, -12.5), (-22.512563133, -11.262563133), (-23.75, -10.75))
            Line((-23.75, -10.75), (-23.75, -12.5))
            Line((-23.75, -12.5), (-25.5, -12.5))
            ThreePointArc((-25.5, -12.5), (-23.75, -14.25), (-22, -12.5))
        make_face()
        with BuildLine():
            Line((-23.75, -12.5), (-23.75, -10.75))
            ThreePointArc((-23.75, -10.75), (-24.987436867, -11.262563133), (-25.5, -12.5))
            Line((-25.5, -12.5), (-23.75, -12.5))
        make_face()
        with BuildLine():
            ThreePointArc((-32, -12.5), (-32.512563133, -11.262563133), (-33.75, -10.75))
            Line((-33.75, -10.75), (-33.75, -12.5))
            Line((-33.75, -12.5), (-32, -12.5))
        make_face()
        with BuildLine():
            Line((-33.75, -12.5), (-33.75, -10.75))
            ThreePointArc((-33.75, -10.75), (-34.987436867, -13.737436867), (-32, -12.5))
            Line((-32, -12.5), (-33.75, -12.5))
        make_face()
    extrude(amount=-CUT_EXTRUDE_17_DEPTH, mode=Mode.SUBTRACT)

    # 草图32 → 切除-拉伸18 (cut)
    with BuildSketch(Plane(origin=(0, 4, 0), x_dir=(1, 0, 0), z_dir=(0, 1, 0))):
        with Locations(Location((-23.75, 12.5, 0), (0, 0, 270))):
            Circle(SKETCH_32_R)
        with Locations(Location((-33.75, 12.5, 0), (0, 0, 270))):
            Circle(SKETCH_32_R)
        with Locations(Location((-33.75, -12.5, 0), (0, 0, 270))):
            Circle(SKETCH_32_R)
        with Locations(Location((-23.75, -12.5, 0), (0, 0, 270))):
            Circle(SKETCH_32_R)
    extrude(amount=-CUT_EXTRUDE_18_DEPTH, mode=Mode.SUBTRACT)

    # 草图33 → 切除-拉伸19 (cut)
    with BuildSketch(Plane(origin=(0, 2, 0), x_dir=(1, 0, 0), z_dir=(0, 1, 0))):
        with Locations(Location((121.75, -9, 0), (0, 0, 270))):
            Circle(SKETCH_33_R)
    extrude(amount=-CUT_EXTRUDE_19_DEPTH, mode=Mode.SUBTRACT)

    # 草图34 → 切除-拉伸21 (cut, through all)
    with BuildSketch(Plane(origin=(0, 4, 0), x_dir=(1, 0, 0), z_dir=(0, 1, 0))):
        with BuildLine():
            Line((-13, 14.25), (-13, 18.25))
            ThreePointArc((-13, 18.25), (-11.25, 20), (-9.5, 18.25))
            Line((-9.5, 18.25), (-9.5, 14.25))
            ThreePointArc((-9.5, 14.25), (-11.25, 12.5), (-13, 14.25))
        make_face()
        with BuildLine():
            Line((-8, 21.75), (-8, 25.75))
            ThreePointArc((-8, 25.75), (-6.25, 27.5), (-4.5, 25.75))
            Line((-4.5, 25.75), (-4.5, 21.75))
            ThreePointArc((-4.5, 21.75), (-6.25, 20), (-8, 21.75))
        make_face()
        with BuildLine():
            Line((-8, 6.75), (-8, 10.75))
            ThreePointArc((-8, 10.75), (-6.25, 12.5), (-4.5, 10.75))
            Line((-4.5, 10.75), (-4.5, 6.75))
            ThreePointArc((-4.5, 6.75), (-6.25, 5), (-8, 6.75))
        make_face()
    extrude(amount=-CUT_EXTRUDE_21_DEPTH, mode=Mode.SUBTRACT)

    # 草图35 → 凸台-拉伸11 (add)
    with BuildSketch(Plane(origin=(106.75, 0, 0), x_dir=(0, 0, -1), z_dir=(1, 0, 0))):
        with Locations((0, 2.5)):
            Rectangle(SKETCH_35_W, SKETCH_35_H)
    extrude(amount=EXTRUDE_11_DEPTH)

    # 圆角1
    fillet_1_edges = [part.edges().sort_by_distance(p)[0] for p in [
        (-38.75, 2.5, 20),
        (-38.75, 2.5, -20),
    ]]
    fillet(fillet_1_edges, radius=FILLET_1_R)

    # 圆角2
    fillet_2_edges = [part.edges().sort_by_distance(p)[0] for p in [
        (-18.75, 2.5, 20),
        (-18.75, 2.5, -20),
    ]]
    fillet(fillet_2_edges, radius=FILLET_2_R)


solid = part.part
